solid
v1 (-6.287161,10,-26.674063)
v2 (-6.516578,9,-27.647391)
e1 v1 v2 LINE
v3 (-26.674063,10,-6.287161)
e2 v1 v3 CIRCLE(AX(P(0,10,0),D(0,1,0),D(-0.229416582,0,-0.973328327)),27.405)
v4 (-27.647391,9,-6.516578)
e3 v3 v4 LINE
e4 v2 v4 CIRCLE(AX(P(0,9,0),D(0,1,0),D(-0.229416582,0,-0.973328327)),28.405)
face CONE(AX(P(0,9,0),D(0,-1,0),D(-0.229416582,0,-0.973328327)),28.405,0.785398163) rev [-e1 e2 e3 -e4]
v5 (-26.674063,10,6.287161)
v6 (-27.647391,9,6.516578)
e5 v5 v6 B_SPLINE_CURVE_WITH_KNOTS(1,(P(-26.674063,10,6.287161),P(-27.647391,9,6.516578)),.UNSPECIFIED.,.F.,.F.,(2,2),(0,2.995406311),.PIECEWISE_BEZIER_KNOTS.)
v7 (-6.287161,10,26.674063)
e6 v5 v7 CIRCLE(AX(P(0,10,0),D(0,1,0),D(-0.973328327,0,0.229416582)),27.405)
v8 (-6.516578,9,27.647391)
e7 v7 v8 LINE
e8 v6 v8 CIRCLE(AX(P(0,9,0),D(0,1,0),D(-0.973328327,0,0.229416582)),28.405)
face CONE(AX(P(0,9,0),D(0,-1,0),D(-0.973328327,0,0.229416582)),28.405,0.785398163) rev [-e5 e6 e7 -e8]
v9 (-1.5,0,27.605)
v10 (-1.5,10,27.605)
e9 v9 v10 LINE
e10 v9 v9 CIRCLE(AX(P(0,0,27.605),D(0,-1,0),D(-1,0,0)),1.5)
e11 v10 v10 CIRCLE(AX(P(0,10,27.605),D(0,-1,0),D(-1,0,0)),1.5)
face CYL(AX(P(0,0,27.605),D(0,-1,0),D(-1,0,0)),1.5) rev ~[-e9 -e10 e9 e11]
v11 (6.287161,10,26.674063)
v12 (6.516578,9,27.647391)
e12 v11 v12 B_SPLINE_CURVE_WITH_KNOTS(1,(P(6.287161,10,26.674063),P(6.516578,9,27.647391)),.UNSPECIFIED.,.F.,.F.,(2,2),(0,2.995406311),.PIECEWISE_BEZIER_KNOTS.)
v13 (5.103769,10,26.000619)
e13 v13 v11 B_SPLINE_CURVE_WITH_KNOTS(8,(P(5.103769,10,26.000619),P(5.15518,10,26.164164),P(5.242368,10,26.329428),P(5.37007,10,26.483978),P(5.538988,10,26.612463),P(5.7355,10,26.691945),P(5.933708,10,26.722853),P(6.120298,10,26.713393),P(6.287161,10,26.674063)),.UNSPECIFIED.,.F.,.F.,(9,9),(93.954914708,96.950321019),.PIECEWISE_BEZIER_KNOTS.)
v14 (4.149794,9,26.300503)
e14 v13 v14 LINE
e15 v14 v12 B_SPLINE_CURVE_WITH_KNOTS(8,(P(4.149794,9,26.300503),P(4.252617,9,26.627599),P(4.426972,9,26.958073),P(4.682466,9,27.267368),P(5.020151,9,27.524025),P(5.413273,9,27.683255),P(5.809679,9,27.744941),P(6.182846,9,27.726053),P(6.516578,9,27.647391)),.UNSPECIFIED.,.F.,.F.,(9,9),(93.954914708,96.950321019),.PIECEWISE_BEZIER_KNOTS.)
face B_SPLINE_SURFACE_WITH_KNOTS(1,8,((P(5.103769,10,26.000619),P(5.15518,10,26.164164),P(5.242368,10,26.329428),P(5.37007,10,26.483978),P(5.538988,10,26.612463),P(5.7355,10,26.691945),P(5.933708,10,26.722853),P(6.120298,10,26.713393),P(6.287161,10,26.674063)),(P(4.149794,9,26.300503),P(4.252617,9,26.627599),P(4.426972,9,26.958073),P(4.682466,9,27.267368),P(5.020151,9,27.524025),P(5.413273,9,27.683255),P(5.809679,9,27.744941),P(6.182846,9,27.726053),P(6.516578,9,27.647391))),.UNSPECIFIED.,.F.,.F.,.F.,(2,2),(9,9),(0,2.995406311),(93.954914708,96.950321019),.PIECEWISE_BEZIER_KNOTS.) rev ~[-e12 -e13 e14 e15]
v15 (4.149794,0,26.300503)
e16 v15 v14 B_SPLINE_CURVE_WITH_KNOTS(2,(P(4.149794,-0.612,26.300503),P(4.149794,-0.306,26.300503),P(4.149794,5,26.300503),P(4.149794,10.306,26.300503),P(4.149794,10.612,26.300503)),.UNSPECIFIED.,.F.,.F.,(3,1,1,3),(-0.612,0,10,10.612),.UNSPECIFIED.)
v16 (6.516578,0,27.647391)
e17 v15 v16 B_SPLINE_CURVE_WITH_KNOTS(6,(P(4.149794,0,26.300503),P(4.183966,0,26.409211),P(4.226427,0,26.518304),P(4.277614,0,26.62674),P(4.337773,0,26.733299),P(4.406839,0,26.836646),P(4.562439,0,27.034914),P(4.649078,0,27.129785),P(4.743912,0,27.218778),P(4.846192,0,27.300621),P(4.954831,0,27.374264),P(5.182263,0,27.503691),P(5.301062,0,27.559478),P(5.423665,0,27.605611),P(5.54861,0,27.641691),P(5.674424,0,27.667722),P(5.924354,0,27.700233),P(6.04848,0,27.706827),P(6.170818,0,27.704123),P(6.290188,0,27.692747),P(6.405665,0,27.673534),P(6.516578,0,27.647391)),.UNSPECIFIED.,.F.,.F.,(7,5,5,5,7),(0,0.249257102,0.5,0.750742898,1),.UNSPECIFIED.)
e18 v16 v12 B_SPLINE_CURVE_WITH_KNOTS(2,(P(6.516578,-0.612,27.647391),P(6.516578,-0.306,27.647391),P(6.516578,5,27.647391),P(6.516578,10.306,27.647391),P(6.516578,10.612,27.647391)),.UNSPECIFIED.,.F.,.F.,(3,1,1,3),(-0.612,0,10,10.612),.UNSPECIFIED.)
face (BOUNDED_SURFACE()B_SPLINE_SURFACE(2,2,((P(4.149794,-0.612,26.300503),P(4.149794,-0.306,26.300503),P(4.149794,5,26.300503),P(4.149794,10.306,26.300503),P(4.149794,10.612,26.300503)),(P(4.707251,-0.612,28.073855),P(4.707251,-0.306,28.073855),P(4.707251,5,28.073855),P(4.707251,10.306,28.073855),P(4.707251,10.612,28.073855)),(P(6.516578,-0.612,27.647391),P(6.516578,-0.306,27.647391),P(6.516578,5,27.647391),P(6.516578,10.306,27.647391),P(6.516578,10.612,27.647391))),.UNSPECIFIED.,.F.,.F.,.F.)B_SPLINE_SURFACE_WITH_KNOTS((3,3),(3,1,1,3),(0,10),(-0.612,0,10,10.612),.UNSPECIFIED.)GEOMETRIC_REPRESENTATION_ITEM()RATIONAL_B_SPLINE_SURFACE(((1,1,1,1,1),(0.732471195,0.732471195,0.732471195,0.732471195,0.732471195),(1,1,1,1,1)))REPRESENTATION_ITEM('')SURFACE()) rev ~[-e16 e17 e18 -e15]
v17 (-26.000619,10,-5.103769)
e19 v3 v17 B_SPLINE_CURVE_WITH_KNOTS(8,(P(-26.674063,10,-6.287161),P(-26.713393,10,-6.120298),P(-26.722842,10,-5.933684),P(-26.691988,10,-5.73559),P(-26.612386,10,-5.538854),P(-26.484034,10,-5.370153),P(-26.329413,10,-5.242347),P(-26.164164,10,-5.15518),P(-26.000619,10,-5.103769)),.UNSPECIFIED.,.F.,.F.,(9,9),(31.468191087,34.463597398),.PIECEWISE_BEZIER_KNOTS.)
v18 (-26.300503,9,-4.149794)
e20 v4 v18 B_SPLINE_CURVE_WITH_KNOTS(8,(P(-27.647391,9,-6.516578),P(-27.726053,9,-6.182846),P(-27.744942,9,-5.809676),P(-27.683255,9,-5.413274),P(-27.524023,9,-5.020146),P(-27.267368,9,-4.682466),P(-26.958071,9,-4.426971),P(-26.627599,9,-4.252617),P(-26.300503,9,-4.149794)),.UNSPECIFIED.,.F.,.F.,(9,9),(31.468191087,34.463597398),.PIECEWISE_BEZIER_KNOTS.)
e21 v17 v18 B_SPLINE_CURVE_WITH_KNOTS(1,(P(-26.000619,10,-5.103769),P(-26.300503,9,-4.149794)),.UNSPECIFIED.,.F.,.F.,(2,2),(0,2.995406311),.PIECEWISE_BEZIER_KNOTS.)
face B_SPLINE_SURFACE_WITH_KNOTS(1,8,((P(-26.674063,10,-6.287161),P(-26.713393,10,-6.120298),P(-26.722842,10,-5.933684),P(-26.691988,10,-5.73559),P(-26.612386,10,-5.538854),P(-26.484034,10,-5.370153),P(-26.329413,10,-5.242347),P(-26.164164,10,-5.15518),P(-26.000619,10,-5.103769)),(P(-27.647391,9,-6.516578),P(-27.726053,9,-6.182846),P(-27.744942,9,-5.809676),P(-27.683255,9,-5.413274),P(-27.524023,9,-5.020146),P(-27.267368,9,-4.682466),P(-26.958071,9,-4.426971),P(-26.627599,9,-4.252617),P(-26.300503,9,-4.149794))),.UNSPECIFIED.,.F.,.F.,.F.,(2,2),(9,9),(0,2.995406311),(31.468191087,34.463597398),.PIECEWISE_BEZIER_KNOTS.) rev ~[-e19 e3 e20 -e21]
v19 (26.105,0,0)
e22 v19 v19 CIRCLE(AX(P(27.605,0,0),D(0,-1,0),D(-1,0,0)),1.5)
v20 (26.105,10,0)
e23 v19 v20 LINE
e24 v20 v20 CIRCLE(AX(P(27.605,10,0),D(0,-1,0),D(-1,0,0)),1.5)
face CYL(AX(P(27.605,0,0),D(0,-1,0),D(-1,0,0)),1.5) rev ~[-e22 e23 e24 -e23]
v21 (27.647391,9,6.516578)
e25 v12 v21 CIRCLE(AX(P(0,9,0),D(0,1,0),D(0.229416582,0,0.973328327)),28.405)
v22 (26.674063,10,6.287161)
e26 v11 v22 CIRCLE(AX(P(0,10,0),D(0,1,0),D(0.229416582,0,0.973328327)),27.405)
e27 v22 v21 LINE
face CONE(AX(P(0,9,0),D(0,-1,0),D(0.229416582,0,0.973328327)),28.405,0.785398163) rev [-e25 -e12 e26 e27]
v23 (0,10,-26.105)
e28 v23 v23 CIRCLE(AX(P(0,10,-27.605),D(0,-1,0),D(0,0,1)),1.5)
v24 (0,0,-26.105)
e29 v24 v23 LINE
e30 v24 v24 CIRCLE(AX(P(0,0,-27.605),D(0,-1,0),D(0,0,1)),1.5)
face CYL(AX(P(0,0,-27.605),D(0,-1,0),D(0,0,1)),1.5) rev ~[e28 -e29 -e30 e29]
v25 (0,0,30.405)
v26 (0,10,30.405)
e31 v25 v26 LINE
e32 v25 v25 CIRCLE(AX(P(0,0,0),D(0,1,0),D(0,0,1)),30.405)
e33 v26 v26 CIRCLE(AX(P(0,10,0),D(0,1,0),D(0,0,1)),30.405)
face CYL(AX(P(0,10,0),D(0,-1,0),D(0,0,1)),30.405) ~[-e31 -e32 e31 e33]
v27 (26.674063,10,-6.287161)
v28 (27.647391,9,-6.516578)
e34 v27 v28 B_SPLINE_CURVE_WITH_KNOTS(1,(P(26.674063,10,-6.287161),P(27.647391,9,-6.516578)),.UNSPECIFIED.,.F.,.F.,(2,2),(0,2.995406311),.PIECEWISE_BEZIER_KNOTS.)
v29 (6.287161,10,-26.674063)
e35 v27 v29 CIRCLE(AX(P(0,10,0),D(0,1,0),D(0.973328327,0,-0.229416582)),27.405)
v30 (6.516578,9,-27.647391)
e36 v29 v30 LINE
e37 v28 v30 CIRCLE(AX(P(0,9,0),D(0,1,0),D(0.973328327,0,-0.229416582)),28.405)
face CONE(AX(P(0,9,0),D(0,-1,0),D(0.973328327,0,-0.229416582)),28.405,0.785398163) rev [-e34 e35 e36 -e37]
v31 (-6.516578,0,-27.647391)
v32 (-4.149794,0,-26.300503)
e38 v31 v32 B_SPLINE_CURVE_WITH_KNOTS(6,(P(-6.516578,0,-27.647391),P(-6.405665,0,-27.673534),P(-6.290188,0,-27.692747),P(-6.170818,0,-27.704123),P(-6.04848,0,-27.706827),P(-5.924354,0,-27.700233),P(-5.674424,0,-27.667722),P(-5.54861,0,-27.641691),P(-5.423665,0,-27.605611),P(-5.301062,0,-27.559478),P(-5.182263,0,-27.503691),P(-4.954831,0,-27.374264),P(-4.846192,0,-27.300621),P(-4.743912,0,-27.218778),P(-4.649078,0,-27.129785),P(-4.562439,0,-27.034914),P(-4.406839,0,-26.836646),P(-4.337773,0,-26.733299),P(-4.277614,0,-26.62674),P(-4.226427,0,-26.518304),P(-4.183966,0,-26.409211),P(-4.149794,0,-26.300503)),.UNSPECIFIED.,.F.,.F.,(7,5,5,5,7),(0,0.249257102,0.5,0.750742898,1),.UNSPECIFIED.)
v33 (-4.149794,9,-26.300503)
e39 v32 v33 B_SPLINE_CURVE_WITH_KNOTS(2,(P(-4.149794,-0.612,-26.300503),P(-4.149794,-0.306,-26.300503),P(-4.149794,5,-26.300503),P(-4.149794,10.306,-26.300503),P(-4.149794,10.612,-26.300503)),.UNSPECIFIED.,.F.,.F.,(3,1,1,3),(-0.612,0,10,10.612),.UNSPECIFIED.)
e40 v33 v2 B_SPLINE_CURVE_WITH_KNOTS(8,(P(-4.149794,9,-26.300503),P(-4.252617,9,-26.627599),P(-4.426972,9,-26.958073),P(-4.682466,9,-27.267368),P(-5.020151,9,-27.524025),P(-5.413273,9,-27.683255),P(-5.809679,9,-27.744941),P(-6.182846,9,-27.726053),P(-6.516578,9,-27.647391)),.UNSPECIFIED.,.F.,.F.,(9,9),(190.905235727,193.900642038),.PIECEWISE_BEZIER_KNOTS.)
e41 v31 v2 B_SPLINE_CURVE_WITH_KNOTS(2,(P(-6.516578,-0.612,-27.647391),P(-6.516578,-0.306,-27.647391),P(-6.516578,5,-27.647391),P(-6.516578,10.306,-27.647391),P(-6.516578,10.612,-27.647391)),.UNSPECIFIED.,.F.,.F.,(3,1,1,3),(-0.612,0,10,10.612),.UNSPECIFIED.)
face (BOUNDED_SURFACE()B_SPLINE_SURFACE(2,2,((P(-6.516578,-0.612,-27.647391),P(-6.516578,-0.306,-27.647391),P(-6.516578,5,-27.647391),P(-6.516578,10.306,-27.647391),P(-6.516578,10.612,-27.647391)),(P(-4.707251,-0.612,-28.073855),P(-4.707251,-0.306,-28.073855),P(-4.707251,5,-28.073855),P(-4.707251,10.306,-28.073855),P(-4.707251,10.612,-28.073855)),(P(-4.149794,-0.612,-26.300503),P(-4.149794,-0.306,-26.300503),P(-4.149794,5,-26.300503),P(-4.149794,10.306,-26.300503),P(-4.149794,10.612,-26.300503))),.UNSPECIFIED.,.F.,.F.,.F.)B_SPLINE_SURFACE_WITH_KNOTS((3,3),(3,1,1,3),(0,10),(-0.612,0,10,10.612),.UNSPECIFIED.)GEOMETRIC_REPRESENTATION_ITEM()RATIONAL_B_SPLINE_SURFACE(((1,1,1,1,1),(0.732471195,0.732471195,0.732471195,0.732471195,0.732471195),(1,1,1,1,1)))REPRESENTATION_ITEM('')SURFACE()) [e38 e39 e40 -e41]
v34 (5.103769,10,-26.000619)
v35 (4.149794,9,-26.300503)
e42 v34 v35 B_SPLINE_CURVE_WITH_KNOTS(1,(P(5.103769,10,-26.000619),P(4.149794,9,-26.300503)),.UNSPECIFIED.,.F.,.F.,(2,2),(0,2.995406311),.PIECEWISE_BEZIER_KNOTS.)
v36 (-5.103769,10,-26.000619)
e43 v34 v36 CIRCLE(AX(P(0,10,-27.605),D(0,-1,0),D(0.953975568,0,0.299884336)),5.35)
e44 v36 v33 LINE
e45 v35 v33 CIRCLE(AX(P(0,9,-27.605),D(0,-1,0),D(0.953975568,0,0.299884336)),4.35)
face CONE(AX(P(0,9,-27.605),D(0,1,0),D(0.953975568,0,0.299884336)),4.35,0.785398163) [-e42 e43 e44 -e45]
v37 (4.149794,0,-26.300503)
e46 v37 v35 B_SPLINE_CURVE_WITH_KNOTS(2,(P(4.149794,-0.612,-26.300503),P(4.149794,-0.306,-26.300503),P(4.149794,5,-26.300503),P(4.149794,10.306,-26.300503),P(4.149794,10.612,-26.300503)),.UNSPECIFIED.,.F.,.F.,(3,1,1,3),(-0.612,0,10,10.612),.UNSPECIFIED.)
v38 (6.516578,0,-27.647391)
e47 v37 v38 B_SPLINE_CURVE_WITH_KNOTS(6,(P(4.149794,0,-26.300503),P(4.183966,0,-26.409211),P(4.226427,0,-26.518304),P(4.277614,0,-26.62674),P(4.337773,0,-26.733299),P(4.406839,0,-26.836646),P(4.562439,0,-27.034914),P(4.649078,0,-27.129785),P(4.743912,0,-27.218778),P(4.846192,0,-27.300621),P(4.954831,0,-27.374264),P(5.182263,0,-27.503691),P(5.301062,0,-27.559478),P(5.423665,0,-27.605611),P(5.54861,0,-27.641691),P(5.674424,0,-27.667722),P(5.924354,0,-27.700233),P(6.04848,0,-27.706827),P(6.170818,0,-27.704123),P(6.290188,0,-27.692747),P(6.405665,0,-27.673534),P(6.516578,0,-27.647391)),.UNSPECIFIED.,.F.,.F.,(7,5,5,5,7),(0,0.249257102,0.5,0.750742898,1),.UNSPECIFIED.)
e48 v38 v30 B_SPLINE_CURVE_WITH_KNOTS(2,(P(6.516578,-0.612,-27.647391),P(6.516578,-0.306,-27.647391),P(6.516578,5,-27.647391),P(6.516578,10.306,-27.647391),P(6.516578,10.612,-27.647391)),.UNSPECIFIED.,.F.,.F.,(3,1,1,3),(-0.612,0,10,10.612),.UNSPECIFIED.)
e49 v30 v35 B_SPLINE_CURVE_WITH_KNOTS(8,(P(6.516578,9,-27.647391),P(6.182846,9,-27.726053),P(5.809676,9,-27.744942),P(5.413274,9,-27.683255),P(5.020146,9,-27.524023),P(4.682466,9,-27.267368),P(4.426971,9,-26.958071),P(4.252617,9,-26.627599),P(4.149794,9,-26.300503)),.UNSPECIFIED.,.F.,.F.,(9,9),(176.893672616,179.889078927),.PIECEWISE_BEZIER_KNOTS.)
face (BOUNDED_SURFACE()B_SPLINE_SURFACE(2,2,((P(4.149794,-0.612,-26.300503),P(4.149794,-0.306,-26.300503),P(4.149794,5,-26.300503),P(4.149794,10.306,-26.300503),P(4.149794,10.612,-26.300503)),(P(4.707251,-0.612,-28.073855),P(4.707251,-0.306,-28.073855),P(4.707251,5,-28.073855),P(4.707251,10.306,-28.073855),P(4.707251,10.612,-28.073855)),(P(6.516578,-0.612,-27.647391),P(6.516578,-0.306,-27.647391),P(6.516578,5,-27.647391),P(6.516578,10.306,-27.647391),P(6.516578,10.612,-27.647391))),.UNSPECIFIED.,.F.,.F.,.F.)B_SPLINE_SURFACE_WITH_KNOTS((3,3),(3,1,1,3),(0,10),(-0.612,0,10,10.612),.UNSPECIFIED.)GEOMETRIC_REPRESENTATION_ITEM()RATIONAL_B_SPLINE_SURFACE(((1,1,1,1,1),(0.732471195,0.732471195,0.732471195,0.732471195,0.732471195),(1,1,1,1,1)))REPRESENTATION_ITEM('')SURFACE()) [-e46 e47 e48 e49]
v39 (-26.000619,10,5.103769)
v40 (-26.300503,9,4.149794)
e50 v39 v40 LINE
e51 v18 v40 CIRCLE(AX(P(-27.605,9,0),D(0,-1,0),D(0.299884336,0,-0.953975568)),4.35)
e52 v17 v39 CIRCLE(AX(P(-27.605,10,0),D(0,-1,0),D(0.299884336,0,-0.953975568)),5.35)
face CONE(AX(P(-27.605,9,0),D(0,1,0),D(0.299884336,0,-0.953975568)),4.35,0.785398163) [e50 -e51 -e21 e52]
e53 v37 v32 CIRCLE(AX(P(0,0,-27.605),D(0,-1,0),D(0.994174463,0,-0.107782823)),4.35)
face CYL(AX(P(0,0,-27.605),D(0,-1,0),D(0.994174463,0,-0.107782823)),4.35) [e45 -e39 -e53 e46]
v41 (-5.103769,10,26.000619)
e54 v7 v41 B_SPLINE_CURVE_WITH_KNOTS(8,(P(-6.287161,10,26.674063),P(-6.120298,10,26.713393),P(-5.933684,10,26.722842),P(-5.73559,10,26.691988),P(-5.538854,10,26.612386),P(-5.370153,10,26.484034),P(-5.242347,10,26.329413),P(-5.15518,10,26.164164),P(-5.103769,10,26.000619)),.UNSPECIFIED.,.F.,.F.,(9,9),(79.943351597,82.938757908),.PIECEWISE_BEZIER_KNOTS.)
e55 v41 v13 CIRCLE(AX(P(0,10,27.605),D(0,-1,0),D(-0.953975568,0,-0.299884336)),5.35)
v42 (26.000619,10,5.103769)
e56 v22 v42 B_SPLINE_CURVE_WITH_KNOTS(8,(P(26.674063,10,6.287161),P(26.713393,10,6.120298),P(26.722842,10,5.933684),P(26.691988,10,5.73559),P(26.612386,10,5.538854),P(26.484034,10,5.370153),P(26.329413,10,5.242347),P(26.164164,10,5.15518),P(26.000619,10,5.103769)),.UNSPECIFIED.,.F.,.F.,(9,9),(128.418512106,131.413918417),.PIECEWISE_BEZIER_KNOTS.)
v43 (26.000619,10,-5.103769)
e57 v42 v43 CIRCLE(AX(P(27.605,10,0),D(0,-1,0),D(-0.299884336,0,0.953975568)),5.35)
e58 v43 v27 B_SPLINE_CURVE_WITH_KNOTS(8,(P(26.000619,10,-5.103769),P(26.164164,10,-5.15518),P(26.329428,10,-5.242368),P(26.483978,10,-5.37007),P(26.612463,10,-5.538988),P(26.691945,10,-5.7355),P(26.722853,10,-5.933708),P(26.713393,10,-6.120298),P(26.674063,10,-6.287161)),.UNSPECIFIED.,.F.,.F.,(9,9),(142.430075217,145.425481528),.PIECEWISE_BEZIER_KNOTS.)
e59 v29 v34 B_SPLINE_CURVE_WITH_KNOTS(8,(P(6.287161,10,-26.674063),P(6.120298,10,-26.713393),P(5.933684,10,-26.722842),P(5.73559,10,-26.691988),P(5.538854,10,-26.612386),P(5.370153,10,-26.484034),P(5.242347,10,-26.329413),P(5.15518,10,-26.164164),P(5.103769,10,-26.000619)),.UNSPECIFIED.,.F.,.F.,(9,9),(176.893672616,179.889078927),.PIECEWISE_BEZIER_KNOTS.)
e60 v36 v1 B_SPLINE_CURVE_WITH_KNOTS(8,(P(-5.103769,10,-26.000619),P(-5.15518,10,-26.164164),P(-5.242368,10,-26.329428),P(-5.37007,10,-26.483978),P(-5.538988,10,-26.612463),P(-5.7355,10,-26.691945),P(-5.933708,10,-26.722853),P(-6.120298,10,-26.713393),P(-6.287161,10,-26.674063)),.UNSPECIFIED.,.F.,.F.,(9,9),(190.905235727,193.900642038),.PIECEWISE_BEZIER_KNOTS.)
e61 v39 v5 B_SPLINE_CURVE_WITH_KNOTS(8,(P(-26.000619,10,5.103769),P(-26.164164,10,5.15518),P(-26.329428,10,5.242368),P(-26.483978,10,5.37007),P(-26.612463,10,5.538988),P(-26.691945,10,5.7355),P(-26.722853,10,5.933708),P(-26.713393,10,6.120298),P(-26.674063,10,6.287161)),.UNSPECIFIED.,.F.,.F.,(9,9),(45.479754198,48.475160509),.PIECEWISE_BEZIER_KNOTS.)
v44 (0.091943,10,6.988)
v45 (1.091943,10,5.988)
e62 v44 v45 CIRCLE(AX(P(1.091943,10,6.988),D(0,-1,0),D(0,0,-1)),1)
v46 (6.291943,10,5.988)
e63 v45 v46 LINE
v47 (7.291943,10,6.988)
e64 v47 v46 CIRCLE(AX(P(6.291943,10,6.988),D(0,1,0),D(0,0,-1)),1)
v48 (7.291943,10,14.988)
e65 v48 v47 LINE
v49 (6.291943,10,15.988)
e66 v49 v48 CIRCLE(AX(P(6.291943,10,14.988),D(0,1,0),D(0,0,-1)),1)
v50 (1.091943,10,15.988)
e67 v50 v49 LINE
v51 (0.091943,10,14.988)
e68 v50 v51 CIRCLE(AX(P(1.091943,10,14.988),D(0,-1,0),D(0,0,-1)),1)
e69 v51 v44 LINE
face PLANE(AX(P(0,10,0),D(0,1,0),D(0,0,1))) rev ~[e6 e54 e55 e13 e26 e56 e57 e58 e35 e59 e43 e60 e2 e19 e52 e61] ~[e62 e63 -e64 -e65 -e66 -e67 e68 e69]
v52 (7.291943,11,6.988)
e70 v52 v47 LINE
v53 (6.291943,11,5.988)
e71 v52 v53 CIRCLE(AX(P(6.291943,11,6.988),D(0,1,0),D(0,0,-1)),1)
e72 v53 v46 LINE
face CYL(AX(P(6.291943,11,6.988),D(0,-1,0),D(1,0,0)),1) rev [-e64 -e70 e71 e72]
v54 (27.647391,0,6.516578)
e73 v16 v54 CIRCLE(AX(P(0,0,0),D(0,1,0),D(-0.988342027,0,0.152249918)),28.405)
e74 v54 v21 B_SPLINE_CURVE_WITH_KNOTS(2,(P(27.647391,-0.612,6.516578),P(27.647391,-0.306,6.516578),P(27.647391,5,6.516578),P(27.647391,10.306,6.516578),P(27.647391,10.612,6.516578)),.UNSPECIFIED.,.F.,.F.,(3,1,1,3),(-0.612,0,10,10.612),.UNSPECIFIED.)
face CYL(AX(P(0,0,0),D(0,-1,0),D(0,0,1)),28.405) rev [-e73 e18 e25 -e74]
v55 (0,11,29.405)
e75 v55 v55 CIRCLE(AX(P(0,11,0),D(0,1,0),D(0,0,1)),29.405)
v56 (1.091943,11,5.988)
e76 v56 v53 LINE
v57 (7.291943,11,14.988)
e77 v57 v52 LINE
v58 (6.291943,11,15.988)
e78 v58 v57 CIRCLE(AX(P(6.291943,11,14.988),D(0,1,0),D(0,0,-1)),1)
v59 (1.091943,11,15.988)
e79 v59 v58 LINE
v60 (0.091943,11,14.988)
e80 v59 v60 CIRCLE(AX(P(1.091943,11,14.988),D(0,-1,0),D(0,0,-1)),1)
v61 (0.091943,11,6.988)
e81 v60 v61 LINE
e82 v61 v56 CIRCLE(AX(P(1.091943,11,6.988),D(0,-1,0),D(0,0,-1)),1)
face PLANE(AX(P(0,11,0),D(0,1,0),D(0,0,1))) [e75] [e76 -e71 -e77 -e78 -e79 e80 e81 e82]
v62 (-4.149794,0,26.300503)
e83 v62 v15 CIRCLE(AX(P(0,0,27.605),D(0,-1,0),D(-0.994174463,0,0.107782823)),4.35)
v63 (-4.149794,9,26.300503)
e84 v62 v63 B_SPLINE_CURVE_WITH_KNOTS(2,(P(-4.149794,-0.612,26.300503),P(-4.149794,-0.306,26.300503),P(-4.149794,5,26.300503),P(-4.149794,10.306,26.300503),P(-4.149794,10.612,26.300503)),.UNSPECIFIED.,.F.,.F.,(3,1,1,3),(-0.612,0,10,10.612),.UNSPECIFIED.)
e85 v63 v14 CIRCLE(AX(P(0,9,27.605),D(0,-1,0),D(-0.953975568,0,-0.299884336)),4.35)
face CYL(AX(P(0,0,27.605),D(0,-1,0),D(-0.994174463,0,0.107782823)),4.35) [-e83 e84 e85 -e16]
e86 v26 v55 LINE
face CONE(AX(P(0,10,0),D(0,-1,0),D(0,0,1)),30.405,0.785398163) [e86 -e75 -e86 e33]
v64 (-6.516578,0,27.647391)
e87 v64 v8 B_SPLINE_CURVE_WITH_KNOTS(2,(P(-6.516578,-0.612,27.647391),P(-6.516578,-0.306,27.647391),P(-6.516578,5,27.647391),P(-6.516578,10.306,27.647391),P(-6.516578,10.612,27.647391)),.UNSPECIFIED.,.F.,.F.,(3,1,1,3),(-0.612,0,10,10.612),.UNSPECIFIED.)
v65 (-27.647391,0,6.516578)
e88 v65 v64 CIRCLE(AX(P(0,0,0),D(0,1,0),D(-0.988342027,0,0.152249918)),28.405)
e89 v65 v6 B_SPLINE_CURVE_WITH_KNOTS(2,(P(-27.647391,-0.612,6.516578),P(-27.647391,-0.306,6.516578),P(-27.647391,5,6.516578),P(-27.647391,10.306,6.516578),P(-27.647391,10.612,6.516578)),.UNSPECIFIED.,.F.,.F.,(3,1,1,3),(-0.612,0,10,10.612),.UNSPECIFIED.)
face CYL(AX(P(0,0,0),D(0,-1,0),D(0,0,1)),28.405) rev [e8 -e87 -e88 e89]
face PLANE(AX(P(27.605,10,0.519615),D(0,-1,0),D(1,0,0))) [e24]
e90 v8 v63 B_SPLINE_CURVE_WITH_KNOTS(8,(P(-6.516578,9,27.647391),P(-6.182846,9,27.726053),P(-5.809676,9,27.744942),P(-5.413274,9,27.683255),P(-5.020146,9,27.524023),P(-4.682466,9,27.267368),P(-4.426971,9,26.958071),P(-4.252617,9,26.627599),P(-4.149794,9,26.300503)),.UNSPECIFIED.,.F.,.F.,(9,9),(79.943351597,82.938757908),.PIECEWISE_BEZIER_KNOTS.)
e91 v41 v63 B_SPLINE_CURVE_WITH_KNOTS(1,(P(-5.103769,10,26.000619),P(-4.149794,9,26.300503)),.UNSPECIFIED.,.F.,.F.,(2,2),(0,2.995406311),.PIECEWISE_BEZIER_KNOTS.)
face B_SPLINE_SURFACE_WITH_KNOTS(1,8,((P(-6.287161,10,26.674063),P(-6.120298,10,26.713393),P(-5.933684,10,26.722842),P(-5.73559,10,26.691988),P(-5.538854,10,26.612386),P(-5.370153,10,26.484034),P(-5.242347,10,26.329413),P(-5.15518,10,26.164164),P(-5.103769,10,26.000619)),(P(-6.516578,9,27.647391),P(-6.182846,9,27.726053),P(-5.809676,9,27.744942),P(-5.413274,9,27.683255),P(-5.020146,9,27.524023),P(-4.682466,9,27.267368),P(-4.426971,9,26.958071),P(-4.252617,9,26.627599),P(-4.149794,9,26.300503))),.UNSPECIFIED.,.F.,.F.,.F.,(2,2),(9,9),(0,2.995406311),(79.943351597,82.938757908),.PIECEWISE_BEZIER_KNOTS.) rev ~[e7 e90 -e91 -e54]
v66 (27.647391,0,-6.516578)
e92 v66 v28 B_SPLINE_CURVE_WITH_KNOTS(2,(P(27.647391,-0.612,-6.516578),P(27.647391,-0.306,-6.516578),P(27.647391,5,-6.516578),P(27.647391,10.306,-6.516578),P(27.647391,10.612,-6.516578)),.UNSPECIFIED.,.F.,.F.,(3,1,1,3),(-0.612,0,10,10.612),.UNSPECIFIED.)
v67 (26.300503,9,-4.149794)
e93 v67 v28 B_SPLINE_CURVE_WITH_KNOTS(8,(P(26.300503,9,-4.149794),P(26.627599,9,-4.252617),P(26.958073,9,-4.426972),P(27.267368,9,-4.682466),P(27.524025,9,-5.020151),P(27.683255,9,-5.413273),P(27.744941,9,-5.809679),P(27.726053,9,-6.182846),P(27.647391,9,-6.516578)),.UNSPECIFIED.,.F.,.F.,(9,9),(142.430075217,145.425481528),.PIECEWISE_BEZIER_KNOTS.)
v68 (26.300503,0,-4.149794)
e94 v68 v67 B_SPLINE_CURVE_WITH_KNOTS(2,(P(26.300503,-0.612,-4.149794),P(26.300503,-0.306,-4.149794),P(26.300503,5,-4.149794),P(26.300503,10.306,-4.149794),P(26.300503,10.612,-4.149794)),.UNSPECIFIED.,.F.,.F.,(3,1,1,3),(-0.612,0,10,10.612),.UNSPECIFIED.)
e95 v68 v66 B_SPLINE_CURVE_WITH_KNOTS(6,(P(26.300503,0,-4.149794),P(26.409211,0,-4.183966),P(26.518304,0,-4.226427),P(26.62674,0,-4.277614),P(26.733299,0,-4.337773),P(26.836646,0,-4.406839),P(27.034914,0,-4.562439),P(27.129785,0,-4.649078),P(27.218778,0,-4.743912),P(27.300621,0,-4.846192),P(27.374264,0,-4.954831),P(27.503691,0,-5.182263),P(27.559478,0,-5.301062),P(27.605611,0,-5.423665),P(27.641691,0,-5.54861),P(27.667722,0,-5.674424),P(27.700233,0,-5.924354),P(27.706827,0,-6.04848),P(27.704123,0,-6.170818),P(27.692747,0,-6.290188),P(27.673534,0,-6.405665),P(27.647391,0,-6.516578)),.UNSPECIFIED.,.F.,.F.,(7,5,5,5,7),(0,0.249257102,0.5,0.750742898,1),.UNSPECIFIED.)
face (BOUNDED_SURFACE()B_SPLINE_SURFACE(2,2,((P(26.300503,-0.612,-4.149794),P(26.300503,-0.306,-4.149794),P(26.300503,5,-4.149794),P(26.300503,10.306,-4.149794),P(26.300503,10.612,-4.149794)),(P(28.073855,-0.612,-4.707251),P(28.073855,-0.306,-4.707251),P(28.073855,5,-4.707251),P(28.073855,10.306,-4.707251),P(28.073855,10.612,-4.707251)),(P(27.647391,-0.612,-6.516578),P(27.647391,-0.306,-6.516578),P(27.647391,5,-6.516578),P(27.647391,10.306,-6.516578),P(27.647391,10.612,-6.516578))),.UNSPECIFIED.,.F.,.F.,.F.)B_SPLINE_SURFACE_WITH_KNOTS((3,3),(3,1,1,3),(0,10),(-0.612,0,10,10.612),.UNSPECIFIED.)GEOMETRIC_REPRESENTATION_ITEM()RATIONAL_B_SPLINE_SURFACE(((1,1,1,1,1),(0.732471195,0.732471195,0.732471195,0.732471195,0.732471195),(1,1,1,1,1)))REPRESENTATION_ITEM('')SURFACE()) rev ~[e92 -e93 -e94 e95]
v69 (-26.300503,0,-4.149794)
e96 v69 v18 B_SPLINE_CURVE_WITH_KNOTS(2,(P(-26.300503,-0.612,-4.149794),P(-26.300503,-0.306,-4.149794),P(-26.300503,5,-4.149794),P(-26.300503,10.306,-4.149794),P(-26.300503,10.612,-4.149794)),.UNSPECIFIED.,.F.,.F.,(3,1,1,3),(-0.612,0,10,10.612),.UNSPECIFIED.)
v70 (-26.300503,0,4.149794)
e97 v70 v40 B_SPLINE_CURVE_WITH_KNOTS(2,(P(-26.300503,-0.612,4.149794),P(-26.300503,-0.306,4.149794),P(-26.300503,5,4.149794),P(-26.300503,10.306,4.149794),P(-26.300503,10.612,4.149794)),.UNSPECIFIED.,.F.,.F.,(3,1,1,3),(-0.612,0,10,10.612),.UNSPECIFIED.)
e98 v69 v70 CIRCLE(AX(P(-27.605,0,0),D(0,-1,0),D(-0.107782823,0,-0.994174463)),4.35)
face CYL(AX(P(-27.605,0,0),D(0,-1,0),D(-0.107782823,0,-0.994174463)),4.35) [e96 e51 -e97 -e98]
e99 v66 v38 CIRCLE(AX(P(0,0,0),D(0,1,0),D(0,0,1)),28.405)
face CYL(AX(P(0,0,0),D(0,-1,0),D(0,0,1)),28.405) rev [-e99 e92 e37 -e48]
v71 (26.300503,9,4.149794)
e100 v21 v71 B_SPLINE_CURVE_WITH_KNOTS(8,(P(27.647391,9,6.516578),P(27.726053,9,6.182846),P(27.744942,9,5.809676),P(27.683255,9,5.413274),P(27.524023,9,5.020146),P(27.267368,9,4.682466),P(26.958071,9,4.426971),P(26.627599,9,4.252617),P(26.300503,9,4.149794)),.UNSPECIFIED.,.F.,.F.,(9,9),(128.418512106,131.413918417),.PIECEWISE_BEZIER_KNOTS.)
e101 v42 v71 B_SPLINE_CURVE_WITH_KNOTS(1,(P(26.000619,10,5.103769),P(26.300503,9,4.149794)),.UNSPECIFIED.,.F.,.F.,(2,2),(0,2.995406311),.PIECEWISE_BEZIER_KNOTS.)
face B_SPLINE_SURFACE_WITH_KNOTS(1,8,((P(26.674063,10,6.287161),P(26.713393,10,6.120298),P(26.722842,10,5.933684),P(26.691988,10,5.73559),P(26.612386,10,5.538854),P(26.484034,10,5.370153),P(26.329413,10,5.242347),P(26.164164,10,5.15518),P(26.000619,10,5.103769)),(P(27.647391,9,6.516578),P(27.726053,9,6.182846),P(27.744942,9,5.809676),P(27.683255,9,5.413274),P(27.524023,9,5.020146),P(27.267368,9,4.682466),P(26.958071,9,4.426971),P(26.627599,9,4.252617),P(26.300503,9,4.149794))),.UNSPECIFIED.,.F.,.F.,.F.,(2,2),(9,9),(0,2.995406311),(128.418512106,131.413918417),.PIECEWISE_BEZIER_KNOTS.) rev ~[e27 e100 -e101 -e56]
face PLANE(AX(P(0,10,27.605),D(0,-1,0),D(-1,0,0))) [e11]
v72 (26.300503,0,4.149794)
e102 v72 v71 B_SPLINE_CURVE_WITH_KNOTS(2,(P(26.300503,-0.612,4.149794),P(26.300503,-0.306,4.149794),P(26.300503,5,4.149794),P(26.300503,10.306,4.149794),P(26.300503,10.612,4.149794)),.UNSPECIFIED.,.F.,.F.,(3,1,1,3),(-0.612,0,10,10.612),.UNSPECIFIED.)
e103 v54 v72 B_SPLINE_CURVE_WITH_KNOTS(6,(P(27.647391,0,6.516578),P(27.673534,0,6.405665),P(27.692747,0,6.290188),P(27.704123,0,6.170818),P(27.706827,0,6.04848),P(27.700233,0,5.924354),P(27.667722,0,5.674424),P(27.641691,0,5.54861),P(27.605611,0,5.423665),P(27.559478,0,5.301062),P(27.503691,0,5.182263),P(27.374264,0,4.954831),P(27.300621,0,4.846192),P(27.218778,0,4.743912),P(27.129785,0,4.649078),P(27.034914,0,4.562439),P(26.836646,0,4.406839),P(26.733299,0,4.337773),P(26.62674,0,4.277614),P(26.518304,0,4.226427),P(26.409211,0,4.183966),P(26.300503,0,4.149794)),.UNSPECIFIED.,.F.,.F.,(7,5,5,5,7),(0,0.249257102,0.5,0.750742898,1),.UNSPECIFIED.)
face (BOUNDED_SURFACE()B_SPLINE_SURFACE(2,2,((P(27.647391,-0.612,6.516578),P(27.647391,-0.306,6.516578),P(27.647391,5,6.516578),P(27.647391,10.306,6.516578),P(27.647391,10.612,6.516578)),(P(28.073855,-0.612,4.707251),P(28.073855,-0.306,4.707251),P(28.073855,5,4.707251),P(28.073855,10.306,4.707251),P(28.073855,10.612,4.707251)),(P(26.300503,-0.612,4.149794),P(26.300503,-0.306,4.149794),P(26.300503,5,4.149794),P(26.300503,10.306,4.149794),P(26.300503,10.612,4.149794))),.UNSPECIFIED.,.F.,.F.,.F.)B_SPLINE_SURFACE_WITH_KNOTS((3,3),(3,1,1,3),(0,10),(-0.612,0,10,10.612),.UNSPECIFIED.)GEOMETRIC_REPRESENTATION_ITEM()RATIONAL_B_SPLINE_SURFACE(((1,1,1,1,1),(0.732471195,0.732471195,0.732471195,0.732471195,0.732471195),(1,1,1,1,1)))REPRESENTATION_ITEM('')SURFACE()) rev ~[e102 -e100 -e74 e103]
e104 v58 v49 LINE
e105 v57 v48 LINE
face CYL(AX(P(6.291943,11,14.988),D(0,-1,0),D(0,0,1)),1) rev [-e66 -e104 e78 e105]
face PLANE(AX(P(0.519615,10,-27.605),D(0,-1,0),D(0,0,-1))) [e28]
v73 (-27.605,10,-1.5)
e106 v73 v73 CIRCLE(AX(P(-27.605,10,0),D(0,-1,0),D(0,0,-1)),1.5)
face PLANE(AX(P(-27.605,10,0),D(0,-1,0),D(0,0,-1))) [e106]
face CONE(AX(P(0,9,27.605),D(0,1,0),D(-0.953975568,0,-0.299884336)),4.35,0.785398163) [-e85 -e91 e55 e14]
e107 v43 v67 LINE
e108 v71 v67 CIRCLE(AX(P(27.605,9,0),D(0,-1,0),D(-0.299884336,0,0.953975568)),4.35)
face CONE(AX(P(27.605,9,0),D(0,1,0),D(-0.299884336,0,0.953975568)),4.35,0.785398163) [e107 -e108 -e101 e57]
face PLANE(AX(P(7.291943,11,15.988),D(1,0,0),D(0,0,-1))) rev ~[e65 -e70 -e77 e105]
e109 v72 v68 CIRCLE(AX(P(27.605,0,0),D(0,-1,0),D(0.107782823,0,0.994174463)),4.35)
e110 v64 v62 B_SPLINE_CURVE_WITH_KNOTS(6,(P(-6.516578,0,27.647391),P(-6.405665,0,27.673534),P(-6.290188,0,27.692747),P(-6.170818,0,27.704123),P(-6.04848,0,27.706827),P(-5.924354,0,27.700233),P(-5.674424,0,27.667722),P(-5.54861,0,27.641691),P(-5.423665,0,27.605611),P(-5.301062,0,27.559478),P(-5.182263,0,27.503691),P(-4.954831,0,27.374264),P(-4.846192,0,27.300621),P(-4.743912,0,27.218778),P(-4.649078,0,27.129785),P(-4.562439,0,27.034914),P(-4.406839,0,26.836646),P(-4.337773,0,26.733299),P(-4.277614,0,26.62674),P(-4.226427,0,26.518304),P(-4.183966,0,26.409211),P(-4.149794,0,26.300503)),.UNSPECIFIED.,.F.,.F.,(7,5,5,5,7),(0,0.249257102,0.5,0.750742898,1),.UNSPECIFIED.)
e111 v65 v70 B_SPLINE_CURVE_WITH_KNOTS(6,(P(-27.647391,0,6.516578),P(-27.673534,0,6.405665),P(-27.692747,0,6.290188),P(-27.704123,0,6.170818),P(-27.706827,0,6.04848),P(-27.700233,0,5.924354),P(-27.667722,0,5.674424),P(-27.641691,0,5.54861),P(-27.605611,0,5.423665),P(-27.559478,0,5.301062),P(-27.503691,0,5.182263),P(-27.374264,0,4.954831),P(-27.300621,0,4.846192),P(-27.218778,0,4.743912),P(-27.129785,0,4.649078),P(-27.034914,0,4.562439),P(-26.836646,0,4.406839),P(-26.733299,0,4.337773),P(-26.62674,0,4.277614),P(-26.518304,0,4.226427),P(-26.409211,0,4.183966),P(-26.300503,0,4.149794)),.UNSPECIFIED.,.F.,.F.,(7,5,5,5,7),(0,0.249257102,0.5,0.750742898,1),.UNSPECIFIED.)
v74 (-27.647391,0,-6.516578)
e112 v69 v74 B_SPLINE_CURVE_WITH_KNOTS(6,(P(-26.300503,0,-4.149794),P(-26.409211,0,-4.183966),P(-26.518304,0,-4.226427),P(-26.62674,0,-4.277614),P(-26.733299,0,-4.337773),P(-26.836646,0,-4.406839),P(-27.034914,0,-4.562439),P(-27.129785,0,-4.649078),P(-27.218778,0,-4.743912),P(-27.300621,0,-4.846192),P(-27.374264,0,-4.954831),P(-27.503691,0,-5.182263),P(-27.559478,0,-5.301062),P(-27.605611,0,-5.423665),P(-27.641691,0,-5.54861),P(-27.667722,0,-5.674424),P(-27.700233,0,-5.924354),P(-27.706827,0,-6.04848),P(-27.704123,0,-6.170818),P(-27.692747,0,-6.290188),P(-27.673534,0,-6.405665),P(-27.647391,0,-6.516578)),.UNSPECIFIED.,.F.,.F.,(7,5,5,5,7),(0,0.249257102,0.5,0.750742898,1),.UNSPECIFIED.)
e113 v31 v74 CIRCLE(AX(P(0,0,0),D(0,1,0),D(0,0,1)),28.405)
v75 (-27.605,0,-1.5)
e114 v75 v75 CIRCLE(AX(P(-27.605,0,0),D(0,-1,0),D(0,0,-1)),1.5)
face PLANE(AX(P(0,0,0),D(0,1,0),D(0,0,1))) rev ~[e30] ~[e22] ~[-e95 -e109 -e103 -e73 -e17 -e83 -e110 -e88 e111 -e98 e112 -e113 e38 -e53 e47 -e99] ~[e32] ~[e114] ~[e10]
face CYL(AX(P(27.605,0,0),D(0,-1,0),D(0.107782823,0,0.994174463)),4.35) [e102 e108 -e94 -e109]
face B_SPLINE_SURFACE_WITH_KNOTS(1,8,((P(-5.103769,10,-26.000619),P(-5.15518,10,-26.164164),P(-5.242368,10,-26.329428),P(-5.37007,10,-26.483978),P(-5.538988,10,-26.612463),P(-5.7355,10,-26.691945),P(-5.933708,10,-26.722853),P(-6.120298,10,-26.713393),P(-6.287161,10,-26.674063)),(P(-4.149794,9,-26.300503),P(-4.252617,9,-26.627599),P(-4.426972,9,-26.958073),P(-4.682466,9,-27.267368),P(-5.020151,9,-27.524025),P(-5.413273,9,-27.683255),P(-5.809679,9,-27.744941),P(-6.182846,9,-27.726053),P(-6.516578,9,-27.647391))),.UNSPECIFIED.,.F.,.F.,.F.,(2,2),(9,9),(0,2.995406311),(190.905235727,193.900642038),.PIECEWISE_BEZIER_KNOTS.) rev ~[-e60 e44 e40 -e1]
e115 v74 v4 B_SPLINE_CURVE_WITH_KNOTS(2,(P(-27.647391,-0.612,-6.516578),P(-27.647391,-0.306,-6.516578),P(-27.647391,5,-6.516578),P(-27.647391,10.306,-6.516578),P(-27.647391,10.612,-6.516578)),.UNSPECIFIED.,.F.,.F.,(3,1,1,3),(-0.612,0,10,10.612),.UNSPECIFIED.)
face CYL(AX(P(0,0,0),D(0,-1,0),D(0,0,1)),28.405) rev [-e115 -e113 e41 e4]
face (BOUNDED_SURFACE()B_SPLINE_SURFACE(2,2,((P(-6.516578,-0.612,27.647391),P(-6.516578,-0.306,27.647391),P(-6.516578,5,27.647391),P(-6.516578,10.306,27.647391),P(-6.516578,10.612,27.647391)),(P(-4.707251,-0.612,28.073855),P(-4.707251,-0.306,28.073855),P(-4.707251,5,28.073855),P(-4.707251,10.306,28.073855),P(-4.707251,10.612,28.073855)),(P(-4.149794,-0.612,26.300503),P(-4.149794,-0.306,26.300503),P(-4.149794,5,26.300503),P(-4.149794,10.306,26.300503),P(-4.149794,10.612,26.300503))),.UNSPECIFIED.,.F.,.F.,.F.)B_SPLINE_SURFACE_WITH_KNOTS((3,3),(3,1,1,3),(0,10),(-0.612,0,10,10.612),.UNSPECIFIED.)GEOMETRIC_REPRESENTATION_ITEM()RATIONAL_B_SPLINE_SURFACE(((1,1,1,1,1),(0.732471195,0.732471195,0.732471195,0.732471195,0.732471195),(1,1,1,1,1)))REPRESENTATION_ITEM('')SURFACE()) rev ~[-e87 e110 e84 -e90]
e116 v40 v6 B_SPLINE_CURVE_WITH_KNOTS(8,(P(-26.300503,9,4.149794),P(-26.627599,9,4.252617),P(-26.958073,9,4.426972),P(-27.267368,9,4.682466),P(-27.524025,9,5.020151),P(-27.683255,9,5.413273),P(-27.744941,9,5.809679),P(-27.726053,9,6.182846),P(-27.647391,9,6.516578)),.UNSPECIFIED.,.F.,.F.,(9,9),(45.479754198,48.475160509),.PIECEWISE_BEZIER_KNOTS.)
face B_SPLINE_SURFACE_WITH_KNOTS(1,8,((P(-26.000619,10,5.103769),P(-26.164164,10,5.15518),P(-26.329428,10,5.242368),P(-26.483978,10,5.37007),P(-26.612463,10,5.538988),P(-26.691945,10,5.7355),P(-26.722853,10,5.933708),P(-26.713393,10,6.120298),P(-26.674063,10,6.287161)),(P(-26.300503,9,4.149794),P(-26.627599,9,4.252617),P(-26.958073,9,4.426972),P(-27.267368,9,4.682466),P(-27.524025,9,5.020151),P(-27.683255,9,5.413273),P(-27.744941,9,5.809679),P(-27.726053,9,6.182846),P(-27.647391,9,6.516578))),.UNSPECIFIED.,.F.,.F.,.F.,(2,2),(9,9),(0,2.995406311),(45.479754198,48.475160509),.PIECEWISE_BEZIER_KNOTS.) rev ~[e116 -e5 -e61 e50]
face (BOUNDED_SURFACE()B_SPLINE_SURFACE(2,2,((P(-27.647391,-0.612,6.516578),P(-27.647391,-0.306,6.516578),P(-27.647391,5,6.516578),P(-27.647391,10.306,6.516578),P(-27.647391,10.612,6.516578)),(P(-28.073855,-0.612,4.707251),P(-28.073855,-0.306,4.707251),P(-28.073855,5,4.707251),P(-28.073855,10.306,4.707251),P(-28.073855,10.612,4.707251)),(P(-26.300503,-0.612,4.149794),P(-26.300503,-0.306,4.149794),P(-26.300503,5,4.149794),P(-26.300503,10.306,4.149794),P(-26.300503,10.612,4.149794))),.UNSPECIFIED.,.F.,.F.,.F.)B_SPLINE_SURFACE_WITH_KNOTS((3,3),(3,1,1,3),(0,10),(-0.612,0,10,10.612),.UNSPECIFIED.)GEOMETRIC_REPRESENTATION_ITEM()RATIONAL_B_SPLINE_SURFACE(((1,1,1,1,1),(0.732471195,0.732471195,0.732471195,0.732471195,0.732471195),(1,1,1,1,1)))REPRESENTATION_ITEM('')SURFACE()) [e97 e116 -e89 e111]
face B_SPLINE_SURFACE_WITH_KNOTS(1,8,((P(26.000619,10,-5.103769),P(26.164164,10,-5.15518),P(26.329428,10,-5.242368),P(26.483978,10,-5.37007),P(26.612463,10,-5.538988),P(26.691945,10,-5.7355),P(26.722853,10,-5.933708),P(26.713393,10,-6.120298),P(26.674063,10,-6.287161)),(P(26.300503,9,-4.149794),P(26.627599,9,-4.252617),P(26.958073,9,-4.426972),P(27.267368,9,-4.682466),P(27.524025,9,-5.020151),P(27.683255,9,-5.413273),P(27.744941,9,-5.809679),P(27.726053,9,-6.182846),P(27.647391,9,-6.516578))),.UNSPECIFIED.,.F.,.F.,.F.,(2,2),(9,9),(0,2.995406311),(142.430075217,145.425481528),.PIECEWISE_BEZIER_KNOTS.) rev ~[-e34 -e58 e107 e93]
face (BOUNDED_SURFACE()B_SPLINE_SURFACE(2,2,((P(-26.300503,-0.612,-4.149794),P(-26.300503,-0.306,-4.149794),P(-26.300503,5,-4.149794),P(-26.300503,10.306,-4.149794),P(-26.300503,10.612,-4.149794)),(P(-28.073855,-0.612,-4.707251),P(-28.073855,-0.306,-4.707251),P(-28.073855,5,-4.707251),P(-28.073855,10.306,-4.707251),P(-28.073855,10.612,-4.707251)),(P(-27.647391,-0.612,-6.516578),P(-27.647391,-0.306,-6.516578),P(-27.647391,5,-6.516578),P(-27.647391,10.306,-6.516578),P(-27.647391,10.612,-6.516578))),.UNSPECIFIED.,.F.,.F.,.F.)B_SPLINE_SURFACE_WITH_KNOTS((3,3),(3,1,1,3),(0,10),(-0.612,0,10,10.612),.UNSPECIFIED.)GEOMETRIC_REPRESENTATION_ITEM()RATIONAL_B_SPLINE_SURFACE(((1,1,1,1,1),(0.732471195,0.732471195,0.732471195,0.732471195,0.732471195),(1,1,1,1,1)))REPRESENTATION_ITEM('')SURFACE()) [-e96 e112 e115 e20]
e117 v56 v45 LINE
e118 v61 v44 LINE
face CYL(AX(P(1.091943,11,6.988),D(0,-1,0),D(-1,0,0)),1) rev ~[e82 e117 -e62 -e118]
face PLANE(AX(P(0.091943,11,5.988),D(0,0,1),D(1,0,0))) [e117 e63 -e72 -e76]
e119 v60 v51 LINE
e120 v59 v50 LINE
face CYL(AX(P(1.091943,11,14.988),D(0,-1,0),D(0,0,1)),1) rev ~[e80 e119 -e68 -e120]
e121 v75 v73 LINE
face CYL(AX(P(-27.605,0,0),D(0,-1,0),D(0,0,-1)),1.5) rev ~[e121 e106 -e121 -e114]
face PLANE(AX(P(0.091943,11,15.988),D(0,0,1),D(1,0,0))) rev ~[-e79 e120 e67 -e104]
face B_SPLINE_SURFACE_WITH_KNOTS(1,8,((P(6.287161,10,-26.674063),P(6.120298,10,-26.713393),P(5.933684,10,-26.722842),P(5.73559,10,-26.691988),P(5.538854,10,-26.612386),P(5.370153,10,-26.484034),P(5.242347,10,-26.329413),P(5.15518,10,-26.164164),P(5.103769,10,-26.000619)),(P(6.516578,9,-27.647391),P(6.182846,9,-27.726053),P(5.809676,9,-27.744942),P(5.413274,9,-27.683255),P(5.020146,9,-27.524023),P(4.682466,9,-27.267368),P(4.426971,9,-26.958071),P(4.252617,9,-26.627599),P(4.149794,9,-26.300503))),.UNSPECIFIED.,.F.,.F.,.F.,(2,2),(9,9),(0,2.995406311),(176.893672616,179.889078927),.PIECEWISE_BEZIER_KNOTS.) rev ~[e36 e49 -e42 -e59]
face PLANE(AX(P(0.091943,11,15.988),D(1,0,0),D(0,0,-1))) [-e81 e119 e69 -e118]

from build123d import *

# Parameters (mm, degrees)
SKIZZE1_R                       = 30.405
SKIZZE1_R_2                     = 28.405
AUFSATZ_LINEAR_AUSTRAGEN1_DEPTH = 10
SKIZZE2_R                       = 30.405
AUFSATZ_LINEAR_AUSTRAGEN2_DEPTH = 1
AUFSATZ_LINEAR_START            = 10
AUFSATZ_LINEAR_AUSTRAGEN3_DEPTH = 10
SKIZZE5_R                       = 1.5
SCHNITT_LINEAR_AUSTRAGEN2_DEPTH = 10
SKIZZE6_W                       = 7.2
SKIZZE6_H                       = 10
SCHNITT_LINEAR_AUSTRAGEN3_DEPTH = 10
KREISMUSTER1_COUNT              = 2
KREISMUSTER1_ANGLE              = 90
FASE1_SIZE                      = 1
VERRUNDUNG1_R                   = 2
VERRUNDUNG2_R                   = 1
FASE2_SIZE                      = 1


with BuildPart() as part:
    # Skizze1 → Aufsatz-Linear austragen1 (new body)
    with BuildSketch(Plane(origin=(0, 0, 0), x_dir=(1, 0, 0), z_dir=(0, 1, 0))):
        with Locations(Location((0, 0, 0), (0, 0, 270))):
            Circle(SKIZZE1_R)
        with Locations(Location((0, 0, 0), (0, 0, 270))):
            Circle(SKIZZE1_R_2, mode=Mode.SUBTRACT)
    extrude(amount=AUFSATZ_LINEAR_AUSTRAGEN1_DEPTH)

    # Skizze2 → Aufsatz-Linear austragen2 (add)
    with BuildSketch(Plane(origin=(0, 10, 0), x_dir=(1, 0, 0), z_dir=(0, 1, 0))):
        with Locations(Location((0, 0, 0), (0, 0, 270))):
            Circle(SKIZZE2_R)
    extrude(amount=AUFSATZ_LINEAR_AUSTRAGEN2_DEPTH)

    # Skizze4 → Aufsatz-Linear austragen3 (add)
    with BuildSketch(Plane.XZ.offset(-10).offset(AUFSATZ_LINEAR_START)):
        with BuildLine():
            ThreePointArc((-28.07385528, -4.324658914), (-23.255, 0), (-28.07385528, 4.324658914))
            ThreePointArc((-28.07385528, 4.324658914), (-28.405, 0), (-28.07385528, -4.324658914))
        make_face()
        with BuildLine():
            ThreePointArc((28.405, 0), (28.322092827, 2.168659237), (28.07385528, 4.324658914))
            ThreePointArc((28.07385528, 4.324658914), (23.255, 0), (28.07385528, -4.324658914))
            ThreePointArc((28.07385528, -4.324658914), (28.322092827, -2.168659237), (28.405, 0))
        make_face()
    aufsatz_linear_austragen3 = extrude(amount=-AUFSATZ_LINEAR_AUSTRAGEN3_DEPTH)

    # Skizze5 → Schnitt-Linear austragen2 (cut)
    with BuildSketch(Plane.XZ):
        with Locations(Location((-27.605, 0, 0), (0, 0, 270))):
            Circle(SKIZZE5_R)
        with BuildLine():
            ThreePointArc((29.105, 0), (27.605, 1.5), (26.105, 0))
            Line((26.105, 0), (29.105, 0))
        make_face()
        with BuildLine():
            Line((29.105, 0), (26.105, 0))
            ThreePointArc((26.105, 0), (27.605, -1.5), (29.105, 0))
        make_face()
    schnitt_linear_austragen2 = extrude(amount=-SCHNITT_LINEAR_AUSTRAGEN2_DEPTH, mode=Mode.SUBTRACT)

    # Skizze6 → Schnitt-Linear austragen3 (cut)
    with BuildSketch(Plane(origin=(0, 11, 0), x_dir=(1, 0, 0), z_dir=(0, 1, 0))):
        with Locations((3.69194255, -10.988)):
            Rectangle(SKIZZE6_W, SKIZZE6_H)
    extrude(amount=-SCHNITT_LINEAR_AUSTRAGEN3_DEPTH, mode=Mode.SUBTRACT)

    # Kreismuster1: Aufsatz-Linear austragen3, Schnitt-Linear austragen2 ×2 about axis
    kreismuster1_axis = Axis((0, 0, 0), (0, 1, 0))
    add([aufsatz_linear_austragen3.rotate(kreismuster1_axis, i * KREISMUSTER1_ANGLE / (KREISMUSTER1_COUNT - 1)) for i in range(1, KREISMUSTER1_COUNT)])
    add([schnitt_linear_austragen2.rotate(kreismuster1_axis, i * KREISMUSTER1_ANGLE / (KREISMUSTER1_COUNT - 1)) for i in range(1, KREISMUSTER1_COUNT)], mode=Mode.SUBTRACT)

    # Fase1
    fase1_edges = [part.edges().sort_by_distance(p)[0] for p in [
        (0, 11, -30.405),
    ]]
    chamfer(fase1_edges, length=FASE1_SIZE)

    # Verrundung1
    verrundung1_edges = [part.edges().sort_by_distance(p)[0] for p in [
        (-28.07385528, 5, 4.324658914),
        (-28.07385528, 5, -4.324658914),
        (28.07385528, 5, 4.324658914),
        (28.07385528, 5, -4.324658914),
        (4.324658914, 5, 28.07385528),
        (-4.324658914, 5, 28.07385528),
        (4.324658914, 5, -28.07385528),
        (-4.324658914, 5, -28.07385528),
    ]]
    fillet(verrundung1_edges, radius=VERRUNDUNG1_R)

    # Verrundung2
    verrundung2_edges = [part.edges().sort_by_distance(p)[0] for p in [
        (7.29194255, 10.5, 5.988),
        (7.29194255, 10.5, 15.988),
        (0.09194255, 10.5, 15.988),
        (0.09194255, 10.5, 5.988),
    ]]
    fillet(verrundung2_edges, radius=VERRUNDUNG2_R)

    # Fase2
    fase2_edges = [part.edges().sort_by_distance(p)[0] for p in [
        (-20.08536812, 10, -20.08536812),
        (0, 10, -23.255),
        (20.08536812, 10, -20.08536812),
        (23.255, 10, 0),
        (20.08536812, 10, 20.08536812),
        (0, 10, 23.255),
        (-20.08536812, 10, 20.08536812),
        (-23.255, 10, 0),
        (-5.068546935, 10, 27.438977106),
        (5.068546935, 10, 27.438977106),
        (-27.438977106, 10, -5.068546935),
        (-27.438977106, 10, 5.068546935),
        (27.438977106, 10, 5.068546935),
        (27.438977106, 10, -5.068546935),
        (5.068546935, 10, -27.438977106),
        (-5.068546935, 10, -27.438977106),
    ]]
    chamfer(fase2_edges, length=FASE2_SIZE)


solid = part.part
